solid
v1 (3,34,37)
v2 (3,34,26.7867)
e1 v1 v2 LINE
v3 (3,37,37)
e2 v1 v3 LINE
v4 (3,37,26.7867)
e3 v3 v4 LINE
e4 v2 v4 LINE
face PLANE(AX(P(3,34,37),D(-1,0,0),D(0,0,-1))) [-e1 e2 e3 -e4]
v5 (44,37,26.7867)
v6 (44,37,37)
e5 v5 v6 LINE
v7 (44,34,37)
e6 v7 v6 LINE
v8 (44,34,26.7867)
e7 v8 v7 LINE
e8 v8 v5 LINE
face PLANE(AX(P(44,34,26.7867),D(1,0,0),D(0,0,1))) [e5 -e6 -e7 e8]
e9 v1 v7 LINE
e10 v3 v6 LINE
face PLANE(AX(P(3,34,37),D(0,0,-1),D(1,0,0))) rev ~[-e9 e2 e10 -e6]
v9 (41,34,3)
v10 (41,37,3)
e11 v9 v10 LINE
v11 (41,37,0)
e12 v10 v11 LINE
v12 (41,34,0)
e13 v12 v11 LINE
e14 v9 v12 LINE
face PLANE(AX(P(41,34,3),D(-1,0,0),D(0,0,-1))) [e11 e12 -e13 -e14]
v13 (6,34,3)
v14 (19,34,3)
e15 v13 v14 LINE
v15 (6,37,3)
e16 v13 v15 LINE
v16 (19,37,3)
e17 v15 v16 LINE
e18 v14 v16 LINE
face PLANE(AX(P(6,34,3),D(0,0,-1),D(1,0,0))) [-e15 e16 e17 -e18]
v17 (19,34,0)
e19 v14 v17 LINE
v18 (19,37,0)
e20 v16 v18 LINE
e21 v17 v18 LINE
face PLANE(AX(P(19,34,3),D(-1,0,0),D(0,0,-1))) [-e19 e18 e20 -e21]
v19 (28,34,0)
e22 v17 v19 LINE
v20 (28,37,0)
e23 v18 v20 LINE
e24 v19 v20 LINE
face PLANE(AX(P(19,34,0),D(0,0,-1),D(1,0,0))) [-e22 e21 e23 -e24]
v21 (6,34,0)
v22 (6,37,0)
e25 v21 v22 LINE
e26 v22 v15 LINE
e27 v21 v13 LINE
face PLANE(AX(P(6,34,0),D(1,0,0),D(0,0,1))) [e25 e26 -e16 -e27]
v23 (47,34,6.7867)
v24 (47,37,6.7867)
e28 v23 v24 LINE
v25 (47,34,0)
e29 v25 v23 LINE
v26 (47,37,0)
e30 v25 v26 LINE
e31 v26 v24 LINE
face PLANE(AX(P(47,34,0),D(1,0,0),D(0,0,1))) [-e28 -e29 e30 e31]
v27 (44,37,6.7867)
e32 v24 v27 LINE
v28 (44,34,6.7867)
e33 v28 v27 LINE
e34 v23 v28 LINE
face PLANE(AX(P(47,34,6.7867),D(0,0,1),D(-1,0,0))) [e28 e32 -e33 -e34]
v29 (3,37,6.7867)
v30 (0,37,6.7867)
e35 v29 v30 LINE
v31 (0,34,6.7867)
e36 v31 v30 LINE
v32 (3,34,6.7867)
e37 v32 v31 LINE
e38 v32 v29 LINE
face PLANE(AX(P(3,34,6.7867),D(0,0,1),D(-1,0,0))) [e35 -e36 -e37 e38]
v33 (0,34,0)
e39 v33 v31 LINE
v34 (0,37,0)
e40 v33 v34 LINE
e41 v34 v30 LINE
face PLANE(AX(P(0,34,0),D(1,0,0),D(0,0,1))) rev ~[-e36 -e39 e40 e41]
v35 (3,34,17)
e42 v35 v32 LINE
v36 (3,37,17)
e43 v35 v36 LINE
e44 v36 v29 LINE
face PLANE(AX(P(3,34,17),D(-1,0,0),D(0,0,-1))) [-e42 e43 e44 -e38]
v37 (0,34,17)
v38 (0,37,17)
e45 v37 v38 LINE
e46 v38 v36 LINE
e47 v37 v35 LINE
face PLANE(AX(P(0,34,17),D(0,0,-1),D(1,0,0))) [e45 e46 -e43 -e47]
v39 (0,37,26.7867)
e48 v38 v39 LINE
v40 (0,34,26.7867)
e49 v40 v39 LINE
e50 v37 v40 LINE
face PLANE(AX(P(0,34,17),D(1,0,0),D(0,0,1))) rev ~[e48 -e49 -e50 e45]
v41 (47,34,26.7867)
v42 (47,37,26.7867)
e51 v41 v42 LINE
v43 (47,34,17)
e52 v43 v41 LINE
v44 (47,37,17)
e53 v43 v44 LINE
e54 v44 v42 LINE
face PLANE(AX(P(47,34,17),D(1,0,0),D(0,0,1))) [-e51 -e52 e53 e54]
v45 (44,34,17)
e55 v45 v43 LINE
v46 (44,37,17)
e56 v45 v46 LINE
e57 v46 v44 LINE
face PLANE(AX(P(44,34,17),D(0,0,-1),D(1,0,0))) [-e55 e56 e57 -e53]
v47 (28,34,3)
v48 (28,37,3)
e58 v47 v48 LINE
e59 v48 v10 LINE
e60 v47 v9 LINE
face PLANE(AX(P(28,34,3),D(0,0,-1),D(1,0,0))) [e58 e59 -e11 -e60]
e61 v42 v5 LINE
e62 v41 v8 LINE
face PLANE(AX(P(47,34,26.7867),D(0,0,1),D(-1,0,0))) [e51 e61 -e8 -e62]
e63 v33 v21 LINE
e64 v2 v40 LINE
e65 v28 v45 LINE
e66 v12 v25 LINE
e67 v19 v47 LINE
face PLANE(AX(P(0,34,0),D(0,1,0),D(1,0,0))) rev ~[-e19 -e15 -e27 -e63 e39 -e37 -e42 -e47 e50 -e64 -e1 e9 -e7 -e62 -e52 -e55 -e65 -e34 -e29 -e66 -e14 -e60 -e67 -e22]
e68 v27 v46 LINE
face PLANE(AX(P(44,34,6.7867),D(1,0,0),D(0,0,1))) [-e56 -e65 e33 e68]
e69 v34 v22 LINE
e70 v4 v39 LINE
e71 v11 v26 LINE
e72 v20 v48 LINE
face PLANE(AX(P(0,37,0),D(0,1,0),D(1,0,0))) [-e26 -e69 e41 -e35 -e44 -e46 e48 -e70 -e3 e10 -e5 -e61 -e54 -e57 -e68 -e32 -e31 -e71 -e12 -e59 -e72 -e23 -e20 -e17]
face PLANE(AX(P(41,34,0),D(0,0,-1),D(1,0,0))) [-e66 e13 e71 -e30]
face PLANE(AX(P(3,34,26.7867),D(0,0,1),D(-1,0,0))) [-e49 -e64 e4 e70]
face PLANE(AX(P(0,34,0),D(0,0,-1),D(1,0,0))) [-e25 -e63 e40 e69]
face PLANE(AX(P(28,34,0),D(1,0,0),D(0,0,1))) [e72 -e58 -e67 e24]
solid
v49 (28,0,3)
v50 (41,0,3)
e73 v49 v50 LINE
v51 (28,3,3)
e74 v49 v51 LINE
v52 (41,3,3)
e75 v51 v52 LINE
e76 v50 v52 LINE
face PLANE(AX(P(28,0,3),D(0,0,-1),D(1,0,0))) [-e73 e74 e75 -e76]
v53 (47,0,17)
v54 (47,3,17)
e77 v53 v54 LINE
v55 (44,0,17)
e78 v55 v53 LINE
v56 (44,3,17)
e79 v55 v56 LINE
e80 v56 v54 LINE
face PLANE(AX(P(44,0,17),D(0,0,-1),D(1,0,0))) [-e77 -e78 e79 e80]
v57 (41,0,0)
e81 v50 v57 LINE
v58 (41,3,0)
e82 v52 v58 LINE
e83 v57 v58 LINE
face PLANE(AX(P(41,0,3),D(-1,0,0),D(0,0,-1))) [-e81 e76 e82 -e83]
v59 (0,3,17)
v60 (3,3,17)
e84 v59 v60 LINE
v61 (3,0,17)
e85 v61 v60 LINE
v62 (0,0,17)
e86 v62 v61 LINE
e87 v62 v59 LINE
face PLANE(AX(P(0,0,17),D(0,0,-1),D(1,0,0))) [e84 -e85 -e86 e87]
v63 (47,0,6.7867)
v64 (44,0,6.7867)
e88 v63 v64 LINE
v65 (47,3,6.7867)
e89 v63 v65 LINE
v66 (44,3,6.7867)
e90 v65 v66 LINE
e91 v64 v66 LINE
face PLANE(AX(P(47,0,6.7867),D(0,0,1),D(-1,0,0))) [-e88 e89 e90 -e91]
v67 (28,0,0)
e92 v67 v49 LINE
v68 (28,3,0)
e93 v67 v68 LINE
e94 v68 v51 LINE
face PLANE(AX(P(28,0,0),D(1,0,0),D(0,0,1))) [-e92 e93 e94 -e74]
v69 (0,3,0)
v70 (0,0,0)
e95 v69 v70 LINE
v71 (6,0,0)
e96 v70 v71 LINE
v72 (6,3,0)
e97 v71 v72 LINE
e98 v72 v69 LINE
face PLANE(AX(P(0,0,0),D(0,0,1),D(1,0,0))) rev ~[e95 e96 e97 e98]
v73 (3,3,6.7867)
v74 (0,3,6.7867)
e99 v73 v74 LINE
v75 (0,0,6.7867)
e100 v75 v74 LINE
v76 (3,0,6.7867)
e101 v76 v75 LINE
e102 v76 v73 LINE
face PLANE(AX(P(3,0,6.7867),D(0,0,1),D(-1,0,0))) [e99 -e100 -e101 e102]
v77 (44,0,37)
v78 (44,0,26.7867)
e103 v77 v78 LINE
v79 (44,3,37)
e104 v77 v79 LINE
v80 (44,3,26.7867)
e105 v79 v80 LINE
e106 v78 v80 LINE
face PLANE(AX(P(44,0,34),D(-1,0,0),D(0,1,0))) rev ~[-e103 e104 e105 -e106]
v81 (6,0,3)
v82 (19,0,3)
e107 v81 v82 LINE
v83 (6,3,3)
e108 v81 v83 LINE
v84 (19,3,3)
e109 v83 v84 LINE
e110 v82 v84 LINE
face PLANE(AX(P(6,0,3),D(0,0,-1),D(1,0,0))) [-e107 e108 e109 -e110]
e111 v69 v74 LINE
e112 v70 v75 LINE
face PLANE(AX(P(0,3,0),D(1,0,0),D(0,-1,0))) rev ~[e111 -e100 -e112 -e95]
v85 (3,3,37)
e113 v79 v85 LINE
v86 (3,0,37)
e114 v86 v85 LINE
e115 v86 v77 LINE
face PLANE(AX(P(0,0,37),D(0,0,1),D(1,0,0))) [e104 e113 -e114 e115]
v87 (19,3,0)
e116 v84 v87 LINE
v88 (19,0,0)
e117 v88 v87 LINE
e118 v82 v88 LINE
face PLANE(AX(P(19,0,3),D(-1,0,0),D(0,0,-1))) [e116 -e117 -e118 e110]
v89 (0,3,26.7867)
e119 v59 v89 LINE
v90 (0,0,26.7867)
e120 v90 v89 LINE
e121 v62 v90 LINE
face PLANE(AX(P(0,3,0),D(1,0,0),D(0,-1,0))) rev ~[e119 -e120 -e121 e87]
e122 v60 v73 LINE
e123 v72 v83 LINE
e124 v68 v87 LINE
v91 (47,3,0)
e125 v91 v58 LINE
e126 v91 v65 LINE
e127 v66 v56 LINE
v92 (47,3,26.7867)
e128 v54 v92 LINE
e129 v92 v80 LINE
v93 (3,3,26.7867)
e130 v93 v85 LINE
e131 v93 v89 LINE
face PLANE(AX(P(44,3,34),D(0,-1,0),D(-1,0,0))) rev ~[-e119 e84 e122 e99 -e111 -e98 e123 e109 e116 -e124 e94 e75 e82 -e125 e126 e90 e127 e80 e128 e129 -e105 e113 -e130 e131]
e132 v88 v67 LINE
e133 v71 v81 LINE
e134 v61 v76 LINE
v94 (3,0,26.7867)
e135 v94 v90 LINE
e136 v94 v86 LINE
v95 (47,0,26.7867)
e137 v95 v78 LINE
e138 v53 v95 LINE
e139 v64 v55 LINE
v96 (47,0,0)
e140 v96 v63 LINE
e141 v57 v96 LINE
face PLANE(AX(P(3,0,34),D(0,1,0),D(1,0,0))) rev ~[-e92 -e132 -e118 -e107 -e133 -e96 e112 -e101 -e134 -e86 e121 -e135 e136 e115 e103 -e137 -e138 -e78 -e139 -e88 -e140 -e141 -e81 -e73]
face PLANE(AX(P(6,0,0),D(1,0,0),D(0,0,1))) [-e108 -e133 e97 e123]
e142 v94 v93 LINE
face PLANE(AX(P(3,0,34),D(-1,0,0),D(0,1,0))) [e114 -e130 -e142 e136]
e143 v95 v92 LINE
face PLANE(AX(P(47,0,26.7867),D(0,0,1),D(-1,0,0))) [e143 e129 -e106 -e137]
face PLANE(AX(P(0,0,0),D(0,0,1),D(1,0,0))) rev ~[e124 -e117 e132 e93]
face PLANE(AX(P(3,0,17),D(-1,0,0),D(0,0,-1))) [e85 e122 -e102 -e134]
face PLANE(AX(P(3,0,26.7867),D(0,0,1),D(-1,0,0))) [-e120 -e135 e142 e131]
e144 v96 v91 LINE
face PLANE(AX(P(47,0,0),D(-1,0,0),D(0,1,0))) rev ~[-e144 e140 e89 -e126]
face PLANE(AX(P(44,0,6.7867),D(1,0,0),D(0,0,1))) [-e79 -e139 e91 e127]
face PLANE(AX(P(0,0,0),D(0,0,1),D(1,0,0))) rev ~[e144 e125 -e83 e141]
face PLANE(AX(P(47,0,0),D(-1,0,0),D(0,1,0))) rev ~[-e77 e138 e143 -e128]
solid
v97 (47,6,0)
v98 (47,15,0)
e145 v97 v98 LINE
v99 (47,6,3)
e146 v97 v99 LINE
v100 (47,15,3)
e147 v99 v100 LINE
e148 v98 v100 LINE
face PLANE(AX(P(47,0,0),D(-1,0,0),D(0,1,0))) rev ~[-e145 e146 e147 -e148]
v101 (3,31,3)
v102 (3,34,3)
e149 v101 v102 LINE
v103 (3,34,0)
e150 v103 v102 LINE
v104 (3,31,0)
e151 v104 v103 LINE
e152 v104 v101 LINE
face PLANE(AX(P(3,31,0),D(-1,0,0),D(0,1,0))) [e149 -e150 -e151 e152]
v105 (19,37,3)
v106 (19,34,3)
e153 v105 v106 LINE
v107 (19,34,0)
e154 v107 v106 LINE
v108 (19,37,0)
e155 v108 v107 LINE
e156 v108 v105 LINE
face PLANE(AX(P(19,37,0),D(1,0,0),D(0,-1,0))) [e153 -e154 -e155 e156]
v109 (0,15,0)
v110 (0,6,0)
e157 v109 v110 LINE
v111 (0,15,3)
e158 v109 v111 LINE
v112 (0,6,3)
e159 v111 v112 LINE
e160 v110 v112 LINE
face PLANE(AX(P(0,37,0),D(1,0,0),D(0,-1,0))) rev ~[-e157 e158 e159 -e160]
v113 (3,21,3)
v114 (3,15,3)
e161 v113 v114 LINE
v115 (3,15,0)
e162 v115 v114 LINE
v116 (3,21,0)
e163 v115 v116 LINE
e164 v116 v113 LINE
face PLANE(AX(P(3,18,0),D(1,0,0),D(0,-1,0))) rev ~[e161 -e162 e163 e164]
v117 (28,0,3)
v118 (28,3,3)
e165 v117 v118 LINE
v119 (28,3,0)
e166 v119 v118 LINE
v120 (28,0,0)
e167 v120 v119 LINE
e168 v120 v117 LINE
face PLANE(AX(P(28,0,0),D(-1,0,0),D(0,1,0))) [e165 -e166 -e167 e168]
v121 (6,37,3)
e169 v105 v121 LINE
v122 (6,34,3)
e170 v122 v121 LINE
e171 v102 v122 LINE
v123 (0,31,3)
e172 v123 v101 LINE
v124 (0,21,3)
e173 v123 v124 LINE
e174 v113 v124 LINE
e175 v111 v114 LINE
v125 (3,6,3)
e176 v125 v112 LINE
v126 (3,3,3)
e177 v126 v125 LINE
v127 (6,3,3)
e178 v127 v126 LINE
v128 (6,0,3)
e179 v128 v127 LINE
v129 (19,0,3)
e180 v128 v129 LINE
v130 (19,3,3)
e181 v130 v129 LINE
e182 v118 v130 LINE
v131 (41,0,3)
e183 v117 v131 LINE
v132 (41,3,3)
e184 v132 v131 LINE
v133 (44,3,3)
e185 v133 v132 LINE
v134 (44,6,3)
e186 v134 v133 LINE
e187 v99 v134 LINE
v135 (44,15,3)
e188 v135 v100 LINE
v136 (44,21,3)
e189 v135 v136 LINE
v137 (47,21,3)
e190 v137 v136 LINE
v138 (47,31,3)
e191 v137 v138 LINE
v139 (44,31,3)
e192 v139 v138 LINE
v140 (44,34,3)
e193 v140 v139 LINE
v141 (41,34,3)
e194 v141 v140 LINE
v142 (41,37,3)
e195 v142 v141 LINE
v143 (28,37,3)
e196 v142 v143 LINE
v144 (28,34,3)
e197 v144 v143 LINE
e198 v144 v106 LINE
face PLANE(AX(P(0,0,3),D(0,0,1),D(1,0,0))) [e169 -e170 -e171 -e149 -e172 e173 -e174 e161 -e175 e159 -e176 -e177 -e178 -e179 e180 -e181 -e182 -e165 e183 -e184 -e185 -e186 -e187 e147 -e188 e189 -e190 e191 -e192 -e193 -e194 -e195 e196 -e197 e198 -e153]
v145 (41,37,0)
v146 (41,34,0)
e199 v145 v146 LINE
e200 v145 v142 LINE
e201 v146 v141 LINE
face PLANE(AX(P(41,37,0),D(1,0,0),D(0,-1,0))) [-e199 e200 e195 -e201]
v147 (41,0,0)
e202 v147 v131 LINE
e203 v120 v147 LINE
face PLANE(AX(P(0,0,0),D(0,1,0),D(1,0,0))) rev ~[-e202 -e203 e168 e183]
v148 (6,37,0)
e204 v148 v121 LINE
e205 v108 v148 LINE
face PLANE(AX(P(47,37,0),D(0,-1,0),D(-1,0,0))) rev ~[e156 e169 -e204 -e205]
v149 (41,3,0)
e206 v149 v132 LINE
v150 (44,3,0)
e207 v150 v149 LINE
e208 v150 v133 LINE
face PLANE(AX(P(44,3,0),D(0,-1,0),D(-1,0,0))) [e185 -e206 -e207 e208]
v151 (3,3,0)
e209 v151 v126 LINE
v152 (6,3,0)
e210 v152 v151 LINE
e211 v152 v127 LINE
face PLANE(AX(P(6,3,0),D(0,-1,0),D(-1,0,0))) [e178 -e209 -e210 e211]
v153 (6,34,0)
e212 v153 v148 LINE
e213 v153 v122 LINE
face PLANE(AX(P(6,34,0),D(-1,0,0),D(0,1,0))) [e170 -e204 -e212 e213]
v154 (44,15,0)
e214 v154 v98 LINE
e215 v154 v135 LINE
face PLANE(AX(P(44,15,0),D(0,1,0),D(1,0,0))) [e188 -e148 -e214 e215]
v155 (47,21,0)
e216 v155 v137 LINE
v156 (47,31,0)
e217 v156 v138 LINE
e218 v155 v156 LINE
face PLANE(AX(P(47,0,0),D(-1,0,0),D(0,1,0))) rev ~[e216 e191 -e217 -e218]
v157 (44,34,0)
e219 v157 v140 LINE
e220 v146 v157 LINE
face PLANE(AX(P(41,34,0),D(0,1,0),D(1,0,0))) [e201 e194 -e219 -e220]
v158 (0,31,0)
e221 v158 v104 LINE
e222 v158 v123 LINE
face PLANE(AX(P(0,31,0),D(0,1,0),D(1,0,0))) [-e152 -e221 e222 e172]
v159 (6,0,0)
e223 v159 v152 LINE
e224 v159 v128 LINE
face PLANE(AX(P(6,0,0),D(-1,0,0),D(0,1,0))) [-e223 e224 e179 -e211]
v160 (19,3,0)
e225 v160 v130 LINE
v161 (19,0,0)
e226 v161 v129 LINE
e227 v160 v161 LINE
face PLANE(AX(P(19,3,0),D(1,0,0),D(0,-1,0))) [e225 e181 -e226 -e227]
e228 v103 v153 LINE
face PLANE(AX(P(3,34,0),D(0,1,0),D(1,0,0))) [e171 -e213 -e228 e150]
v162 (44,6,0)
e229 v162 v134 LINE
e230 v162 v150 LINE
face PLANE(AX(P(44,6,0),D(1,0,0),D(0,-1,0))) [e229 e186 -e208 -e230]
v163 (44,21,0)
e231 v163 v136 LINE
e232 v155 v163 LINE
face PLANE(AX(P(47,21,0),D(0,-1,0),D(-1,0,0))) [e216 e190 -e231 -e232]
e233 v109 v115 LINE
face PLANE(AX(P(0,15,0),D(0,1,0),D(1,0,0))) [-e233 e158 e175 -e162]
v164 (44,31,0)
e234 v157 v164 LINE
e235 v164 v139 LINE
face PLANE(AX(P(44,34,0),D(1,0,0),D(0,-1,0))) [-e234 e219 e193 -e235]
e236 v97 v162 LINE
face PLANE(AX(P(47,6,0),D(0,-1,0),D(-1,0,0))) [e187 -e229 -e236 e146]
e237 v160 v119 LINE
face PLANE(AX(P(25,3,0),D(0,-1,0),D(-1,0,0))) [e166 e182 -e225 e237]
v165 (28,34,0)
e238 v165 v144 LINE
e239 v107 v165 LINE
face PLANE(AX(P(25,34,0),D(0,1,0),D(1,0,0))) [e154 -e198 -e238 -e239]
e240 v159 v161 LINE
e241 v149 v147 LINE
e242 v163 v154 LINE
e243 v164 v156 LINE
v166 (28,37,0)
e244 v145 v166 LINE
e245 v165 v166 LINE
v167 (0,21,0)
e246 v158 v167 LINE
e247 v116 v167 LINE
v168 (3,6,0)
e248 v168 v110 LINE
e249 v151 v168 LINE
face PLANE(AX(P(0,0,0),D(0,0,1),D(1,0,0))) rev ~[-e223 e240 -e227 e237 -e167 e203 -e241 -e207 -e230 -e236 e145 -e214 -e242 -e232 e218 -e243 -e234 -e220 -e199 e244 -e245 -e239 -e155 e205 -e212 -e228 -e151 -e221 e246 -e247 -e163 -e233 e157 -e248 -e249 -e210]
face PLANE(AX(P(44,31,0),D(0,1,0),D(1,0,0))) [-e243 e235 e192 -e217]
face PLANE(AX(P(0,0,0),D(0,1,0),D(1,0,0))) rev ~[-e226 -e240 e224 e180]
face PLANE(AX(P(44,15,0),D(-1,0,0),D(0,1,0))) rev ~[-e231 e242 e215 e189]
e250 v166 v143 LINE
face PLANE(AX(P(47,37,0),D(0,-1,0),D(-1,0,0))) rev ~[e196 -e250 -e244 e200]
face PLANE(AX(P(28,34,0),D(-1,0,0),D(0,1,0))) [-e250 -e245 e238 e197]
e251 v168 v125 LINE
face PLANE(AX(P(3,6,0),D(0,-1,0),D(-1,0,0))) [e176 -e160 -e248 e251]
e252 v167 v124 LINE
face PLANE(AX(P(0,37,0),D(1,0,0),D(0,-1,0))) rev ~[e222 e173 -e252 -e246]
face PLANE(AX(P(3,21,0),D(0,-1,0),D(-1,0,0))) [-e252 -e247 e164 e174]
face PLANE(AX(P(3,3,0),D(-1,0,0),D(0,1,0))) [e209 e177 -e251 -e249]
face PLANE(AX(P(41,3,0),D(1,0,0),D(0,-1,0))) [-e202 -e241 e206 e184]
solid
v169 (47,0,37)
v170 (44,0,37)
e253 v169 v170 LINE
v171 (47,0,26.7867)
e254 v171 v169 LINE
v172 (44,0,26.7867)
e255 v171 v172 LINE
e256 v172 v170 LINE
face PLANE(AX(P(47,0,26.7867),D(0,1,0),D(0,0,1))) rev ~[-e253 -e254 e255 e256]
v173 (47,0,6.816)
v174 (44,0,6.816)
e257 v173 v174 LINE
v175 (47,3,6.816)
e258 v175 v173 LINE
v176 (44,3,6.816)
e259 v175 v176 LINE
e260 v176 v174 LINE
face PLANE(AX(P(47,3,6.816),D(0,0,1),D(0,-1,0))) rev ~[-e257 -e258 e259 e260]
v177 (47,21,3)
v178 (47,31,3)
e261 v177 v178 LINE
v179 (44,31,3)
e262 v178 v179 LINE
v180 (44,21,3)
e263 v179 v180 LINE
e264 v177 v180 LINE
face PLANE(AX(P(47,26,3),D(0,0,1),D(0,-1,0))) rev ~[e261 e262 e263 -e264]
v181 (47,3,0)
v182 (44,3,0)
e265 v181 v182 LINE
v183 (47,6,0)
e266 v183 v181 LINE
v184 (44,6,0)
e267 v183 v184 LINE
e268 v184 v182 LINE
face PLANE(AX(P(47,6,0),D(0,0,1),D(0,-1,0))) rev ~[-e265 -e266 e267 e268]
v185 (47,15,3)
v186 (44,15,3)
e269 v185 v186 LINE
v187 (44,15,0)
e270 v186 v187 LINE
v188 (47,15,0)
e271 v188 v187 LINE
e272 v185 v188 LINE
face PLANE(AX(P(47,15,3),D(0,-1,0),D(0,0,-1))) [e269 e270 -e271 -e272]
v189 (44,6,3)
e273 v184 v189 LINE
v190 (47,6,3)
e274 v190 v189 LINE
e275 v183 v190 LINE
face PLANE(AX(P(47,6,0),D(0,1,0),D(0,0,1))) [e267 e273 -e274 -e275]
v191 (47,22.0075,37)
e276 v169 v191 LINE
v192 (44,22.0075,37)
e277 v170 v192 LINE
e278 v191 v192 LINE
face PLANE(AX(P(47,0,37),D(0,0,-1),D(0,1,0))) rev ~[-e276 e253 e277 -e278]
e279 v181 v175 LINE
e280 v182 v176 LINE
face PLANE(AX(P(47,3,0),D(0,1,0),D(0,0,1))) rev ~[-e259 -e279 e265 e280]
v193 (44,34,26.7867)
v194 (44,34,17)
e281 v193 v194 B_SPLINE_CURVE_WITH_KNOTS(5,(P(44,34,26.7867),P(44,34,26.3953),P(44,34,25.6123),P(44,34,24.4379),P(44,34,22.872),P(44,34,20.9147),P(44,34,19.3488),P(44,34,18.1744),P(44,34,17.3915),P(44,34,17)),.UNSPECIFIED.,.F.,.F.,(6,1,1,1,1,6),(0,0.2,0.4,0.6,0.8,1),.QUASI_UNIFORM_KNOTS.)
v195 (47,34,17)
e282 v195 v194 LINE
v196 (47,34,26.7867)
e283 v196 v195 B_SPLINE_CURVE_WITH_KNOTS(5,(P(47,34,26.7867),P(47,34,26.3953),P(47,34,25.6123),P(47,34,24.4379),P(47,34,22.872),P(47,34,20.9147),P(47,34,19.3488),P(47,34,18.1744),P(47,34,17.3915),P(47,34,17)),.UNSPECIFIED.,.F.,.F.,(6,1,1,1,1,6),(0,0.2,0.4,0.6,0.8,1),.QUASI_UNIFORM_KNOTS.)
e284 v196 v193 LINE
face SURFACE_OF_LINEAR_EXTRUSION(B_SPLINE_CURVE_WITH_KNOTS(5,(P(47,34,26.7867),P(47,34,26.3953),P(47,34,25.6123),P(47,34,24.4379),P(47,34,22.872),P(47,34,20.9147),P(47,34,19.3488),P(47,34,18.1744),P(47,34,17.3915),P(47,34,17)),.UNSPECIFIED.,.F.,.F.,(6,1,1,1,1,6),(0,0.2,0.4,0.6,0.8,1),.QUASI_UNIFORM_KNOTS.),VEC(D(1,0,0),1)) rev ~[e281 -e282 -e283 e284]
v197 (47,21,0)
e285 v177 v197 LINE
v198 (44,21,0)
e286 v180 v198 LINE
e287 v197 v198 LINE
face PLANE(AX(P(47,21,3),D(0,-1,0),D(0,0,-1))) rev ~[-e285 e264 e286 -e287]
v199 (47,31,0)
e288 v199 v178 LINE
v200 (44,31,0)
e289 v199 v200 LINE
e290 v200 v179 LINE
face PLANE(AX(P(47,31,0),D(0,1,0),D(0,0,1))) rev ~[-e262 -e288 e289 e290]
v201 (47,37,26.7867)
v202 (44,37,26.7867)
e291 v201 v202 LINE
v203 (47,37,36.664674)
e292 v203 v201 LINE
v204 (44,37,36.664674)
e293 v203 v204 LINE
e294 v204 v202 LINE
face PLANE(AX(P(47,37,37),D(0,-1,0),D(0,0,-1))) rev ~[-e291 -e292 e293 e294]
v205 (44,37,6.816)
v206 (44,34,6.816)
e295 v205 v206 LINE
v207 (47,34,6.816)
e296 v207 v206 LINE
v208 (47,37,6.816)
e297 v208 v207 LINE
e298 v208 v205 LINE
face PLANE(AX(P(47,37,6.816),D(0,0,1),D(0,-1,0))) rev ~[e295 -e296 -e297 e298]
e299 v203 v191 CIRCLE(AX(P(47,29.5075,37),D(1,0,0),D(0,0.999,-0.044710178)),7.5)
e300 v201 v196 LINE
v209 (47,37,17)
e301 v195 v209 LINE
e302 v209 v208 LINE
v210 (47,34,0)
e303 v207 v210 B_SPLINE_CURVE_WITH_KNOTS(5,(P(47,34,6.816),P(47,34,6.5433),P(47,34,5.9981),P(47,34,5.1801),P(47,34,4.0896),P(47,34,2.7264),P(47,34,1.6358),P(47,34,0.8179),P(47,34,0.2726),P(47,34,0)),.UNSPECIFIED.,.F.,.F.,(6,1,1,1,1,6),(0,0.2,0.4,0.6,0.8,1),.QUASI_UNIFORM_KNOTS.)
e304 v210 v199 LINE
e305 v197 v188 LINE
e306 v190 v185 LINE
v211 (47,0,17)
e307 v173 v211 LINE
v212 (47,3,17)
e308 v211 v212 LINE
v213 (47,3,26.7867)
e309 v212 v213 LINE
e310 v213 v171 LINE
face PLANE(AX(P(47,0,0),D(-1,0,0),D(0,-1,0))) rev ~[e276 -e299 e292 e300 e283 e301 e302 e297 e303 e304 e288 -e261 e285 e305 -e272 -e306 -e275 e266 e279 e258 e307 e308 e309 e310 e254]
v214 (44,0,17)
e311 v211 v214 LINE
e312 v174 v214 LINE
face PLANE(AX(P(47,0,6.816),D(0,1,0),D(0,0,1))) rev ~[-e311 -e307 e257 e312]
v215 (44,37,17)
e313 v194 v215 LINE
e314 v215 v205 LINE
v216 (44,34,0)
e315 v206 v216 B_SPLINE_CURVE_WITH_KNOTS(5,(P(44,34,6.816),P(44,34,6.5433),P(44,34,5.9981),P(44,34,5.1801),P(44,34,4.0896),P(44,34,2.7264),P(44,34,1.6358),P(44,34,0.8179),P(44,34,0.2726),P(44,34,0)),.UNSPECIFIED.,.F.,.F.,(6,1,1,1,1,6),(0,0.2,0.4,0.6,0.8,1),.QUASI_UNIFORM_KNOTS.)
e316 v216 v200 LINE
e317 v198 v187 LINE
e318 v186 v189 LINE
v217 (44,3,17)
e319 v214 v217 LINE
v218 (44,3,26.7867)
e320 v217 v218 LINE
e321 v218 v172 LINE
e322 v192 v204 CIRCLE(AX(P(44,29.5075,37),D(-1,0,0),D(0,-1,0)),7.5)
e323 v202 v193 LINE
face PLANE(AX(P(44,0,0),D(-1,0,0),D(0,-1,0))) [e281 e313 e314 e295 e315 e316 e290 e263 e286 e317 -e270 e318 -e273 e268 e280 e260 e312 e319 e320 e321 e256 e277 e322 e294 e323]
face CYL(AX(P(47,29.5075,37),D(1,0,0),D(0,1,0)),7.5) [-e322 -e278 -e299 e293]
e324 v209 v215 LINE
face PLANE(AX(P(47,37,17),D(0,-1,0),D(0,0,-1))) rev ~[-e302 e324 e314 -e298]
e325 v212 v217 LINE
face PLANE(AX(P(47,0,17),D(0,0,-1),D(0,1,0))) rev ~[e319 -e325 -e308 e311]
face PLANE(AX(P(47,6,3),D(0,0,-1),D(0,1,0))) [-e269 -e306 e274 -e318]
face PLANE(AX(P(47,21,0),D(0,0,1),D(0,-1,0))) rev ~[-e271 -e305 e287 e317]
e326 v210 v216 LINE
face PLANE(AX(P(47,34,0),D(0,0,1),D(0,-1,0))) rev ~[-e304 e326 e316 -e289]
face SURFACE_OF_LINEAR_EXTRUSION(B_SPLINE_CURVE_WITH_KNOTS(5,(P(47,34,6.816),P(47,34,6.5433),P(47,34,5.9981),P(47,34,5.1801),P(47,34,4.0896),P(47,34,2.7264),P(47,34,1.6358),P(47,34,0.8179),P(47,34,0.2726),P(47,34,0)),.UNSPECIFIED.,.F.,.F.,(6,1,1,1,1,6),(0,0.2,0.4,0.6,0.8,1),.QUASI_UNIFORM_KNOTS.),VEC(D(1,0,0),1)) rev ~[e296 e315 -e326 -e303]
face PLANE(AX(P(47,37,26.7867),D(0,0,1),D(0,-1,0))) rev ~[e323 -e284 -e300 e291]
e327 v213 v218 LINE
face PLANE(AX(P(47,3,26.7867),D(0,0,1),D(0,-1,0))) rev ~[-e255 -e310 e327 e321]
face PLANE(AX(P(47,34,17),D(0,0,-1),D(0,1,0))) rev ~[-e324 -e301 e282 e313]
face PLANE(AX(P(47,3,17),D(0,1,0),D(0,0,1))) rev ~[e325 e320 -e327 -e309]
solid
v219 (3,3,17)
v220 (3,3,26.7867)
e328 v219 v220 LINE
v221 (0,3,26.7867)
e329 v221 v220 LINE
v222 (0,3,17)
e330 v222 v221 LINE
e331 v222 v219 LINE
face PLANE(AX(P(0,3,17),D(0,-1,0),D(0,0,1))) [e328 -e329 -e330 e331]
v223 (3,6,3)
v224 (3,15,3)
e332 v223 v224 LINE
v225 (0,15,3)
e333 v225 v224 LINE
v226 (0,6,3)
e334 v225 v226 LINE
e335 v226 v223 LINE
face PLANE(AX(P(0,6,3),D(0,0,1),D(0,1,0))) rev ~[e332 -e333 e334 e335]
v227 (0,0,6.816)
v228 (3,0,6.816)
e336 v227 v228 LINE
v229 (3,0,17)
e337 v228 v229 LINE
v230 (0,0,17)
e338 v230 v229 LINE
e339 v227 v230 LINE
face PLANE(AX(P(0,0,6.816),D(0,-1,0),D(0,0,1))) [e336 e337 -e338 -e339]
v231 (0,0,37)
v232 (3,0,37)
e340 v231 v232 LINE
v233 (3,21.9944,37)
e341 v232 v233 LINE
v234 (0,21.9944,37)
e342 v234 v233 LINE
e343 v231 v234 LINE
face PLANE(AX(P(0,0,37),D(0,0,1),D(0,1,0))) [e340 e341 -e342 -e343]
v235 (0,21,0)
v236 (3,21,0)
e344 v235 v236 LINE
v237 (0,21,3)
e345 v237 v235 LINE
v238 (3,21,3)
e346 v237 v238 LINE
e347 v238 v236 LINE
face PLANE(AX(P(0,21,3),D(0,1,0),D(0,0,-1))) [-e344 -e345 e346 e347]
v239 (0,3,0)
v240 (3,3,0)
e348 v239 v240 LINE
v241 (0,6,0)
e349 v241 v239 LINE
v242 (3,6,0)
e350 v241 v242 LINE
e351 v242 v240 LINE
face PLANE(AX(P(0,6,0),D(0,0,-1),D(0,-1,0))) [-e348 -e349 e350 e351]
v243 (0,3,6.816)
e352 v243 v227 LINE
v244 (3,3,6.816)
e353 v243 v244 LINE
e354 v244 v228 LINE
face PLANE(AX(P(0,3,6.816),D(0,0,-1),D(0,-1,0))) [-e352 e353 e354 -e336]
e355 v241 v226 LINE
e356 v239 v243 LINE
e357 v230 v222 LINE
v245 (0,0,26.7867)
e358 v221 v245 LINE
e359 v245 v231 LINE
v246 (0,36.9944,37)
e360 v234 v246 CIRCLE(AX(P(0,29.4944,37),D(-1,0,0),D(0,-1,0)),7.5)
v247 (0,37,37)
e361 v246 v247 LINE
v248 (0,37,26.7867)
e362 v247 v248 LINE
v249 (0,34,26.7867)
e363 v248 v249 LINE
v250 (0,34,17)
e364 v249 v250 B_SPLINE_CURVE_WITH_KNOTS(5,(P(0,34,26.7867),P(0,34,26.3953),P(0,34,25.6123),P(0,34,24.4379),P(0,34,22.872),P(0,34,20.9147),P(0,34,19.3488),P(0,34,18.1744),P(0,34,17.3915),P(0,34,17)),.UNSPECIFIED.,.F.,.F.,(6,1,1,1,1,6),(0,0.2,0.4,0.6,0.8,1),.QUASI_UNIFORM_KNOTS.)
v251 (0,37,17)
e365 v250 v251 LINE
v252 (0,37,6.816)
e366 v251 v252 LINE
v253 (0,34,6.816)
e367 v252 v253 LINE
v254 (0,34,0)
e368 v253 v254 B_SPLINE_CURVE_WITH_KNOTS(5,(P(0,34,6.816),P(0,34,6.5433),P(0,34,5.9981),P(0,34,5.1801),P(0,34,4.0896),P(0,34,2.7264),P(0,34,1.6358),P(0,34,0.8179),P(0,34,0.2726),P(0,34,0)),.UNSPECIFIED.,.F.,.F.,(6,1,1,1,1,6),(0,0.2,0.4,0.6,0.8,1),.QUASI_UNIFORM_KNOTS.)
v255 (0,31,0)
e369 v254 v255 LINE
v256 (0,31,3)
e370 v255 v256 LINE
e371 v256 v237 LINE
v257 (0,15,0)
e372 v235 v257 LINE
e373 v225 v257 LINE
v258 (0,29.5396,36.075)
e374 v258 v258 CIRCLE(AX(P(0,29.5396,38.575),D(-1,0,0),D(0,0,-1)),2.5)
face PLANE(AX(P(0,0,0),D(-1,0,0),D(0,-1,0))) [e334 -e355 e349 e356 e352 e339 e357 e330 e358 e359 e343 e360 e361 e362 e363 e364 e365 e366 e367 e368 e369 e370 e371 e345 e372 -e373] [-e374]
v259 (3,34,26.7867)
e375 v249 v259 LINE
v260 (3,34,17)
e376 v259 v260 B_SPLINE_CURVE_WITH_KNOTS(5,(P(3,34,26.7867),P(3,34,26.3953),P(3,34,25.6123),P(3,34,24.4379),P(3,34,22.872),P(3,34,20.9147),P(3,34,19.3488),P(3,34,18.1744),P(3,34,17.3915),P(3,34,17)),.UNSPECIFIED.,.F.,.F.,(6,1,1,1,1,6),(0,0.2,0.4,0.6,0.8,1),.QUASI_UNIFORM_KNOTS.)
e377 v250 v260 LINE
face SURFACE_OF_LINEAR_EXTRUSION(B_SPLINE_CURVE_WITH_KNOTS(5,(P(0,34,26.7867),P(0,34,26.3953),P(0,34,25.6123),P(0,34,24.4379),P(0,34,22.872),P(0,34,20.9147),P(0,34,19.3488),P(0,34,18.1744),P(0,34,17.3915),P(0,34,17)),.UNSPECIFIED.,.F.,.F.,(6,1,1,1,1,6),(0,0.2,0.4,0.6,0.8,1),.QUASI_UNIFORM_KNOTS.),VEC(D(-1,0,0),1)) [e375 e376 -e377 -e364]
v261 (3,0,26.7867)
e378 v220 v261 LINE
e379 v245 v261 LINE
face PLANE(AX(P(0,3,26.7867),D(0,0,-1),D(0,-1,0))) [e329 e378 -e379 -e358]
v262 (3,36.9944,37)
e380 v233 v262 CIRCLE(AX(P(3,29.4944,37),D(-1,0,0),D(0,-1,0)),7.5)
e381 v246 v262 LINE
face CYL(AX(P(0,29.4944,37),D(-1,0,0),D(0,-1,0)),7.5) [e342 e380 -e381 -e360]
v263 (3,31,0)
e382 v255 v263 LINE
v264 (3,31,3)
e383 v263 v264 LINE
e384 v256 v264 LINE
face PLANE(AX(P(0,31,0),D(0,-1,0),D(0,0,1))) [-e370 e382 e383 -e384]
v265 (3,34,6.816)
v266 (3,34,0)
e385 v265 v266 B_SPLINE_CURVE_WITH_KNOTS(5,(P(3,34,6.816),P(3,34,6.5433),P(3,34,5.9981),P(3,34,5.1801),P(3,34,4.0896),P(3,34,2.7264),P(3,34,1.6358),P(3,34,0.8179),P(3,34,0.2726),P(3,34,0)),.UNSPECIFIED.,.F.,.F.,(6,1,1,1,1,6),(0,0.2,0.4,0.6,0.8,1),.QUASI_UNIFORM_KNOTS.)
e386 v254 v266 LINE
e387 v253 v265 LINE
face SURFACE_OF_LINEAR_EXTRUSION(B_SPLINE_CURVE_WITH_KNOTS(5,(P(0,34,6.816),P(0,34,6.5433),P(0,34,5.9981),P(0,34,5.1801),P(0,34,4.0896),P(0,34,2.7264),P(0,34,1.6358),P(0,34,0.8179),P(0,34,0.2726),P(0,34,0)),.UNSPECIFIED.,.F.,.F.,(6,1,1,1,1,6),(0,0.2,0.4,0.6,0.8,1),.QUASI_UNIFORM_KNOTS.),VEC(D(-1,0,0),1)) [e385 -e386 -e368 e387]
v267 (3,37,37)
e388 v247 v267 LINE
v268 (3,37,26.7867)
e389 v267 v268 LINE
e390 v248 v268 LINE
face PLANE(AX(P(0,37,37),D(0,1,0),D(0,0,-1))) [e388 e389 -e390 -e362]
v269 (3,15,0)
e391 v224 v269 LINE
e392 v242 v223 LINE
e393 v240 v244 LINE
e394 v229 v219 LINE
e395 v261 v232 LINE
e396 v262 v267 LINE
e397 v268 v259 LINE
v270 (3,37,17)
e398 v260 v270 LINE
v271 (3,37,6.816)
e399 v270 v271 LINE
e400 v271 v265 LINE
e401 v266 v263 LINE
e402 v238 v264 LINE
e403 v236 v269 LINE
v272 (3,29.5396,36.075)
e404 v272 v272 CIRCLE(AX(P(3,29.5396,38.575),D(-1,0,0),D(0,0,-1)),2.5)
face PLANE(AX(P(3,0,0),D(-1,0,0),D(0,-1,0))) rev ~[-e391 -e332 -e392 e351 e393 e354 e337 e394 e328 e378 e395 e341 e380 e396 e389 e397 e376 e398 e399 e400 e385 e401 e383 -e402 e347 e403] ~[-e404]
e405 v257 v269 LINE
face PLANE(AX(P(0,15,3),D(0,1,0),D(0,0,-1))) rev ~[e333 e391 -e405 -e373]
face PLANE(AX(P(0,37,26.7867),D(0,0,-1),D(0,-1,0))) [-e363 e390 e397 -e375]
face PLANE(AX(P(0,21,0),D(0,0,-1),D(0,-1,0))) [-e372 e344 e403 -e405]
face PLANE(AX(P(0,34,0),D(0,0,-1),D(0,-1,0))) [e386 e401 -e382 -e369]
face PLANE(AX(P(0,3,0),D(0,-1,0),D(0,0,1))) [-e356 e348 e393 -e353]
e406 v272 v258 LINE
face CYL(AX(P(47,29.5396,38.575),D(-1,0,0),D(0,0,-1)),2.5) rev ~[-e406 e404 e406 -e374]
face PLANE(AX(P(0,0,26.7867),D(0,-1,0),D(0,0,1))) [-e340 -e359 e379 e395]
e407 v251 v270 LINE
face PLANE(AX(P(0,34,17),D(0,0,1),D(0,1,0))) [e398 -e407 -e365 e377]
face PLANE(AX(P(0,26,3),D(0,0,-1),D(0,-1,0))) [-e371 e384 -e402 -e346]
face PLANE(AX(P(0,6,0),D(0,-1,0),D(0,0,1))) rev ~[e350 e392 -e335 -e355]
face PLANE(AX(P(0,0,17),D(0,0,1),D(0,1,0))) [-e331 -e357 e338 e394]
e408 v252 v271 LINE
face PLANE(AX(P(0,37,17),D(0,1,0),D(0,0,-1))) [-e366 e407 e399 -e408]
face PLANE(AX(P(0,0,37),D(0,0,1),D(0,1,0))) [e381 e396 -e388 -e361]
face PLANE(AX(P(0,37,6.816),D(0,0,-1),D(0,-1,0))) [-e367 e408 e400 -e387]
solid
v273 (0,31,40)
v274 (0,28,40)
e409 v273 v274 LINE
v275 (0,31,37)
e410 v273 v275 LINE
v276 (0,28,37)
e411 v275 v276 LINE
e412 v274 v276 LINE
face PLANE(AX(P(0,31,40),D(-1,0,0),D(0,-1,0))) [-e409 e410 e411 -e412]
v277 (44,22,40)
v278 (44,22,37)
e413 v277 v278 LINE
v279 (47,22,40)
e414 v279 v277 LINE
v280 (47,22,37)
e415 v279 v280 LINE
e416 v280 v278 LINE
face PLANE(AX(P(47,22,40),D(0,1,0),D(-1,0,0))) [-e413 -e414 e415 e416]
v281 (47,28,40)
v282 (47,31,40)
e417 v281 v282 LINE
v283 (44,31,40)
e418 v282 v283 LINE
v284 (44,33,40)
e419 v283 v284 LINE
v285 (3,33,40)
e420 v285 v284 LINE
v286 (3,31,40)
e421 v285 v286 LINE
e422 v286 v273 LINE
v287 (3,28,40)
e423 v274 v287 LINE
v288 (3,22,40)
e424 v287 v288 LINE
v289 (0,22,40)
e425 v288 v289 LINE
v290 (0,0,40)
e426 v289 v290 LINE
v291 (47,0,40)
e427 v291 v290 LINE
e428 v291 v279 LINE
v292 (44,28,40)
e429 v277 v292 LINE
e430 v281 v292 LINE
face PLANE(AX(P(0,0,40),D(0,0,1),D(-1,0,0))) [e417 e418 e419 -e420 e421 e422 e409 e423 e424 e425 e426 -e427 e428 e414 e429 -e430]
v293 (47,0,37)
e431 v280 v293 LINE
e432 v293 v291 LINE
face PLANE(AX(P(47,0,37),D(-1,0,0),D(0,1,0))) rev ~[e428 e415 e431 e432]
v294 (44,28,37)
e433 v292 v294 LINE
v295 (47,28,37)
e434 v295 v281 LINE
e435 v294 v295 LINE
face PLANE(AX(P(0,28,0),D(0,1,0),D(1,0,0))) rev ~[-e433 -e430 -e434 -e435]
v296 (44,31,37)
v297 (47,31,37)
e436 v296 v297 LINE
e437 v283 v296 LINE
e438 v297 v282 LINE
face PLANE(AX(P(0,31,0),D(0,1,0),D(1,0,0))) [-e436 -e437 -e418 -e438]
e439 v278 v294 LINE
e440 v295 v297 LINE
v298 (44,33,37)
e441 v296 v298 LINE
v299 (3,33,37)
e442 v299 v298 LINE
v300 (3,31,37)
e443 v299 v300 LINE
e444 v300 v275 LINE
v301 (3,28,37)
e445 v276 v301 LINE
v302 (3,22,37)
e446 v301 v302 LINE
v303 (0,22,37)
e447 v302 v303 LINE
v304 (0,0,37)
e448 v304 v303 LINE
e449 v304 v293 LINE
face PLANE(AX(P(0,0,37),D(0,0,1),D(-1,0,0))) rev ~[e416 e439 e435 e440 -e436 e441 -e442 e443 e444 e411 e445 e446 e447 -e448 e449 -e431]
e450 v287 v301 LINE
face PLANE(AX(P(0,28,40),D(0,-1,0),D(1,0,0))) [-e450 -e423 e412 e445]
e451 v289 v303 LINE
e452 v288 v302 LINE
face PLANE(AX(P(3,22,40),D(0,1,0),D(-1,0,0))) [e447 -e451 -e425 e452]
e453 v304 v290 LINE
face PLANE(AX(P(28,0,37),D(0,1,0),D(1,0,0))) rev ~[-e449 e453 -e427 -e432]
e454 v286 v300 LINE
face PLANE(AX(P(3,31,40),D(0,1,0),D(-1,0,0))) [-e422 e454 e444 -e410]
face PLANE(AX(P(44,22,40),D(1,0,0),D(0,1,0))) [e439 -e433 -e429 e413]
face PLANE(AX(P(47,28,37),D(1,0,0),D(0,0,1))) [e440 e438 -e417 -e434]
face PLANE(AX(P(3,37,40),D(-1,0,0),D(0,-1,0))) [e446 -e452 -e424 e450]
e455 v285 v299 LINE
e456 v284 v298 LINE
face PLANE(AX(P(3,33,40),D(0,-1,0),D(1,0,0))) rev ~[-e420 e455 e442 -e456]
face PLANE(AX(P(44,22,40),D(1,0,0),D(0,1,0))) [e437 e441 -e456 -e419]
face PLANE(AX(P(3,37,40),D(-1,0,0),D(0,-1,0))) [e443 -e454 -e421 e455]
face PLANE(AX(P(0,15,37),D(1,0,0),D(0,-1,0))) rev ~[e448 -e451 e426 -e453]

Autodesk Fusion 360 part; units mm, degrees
sketch "Sketch1" plane through (0, 0, 0) normal (0, 0, 1) x (1, 0, 0)
  line L0 (0, 0) -> (47, 0)
  line L1 (47, 0) -> (47, 37)
  line L2 (47, 37) -> (0, 37)
  line L3 (0, 37) -> (0, 0)
  dimension "d1" = 47
  dimension "d2" = 37
sketch "Sketch2" plane through (0, 0, 0) normal (0, 0, 1) x (1, 0, 0)
  line L0 (0, 0) -> (3, 0)
  line L1 (3, 0) -> (3, 3)
  line L2 (3, 3) -> (0, 3)
  line L3 (0, 3) -> (0, 0)
  line L4 (25, 0) -> (25, 3)
  line L5 (22, 0) -> (25, 0)
  line L6 (25, 3) -> (22, 3)
  line L7 (22, 3) -> (22, 0)
  line L8 (47, 0) -> (47, 3)
  line L9 (44, 0) -> (47, 0)
  line L10 (47, 3) -> (44, 3)
  line L11 (44, 3) -> (44, 0)
  line L12 (25, 0) -> (28, 0)
  line L13 (28, 0) -> (28, 3)
  line L14 (25, 3) -> (25, 0)
  line L15 (28, 3) -> (25, 3)
  line L16 (22, 3) -> (19, 3)
  line L17 (22, 3) -> (22, 0)
  line L18 (19, 0) -> (22, 0)
  line L19 (19, 3) -> (19, 0)
  line L20 (6, 3) -> (3, 3)
  line L21 (6, 0) -> (6, 3)
  line L22 (3, 0) -> (6, 0)
  line L23 (3, 3) -> (3, 0)
  line L24 (41, 3) -> (41, 0)
  line L25 (44, 3) -> (41, 3)
  line L26 (41, 0) -> (44, 0)
  line L27 (44, 0) -> (44, 3)
  line L28 (19, 37) -> (19, 34)
  line L29 (28, 34) -> (28, 37)
  line L30 (25, 34) -> (28, 34)
  line L31 (22, 34) -> (25, 34)
  line L32 (28, 37) -> (25, 37)
  line L33 (25, 37) -> (22, 37)
  line L34 (22, 37) -> (19, 37)
  line L35 (6, 37) -> (3, 37)
  line L36 (6, 34) -> (6, 37)
  line L37 (3, 34) -> (6, 34)
  line L38 (0, 34) -> (3, 34)
  line L39 (0, 37) -> (0, 34)
  line L40 (3, 37) -> (0, 37)
  line L41 (41, 37) -> (41, 34)
  line L42 (44, 37) -> (41, 37)
  line L43 (47, 37) -> (44, 37)
  line L44 (41, 34) -> (44, 34)
  line L45 (44, 34) -> (47, 34)
  line L46 (47, 34) -> (47, 37)
  line L47 (19, 34) -> (22, 34)
  line L48 (47, 0) -> (47, 3)
  line L49 (47, 3) -> (44, 3)
  line L50 (44, 3) -> (44, 0)
  line L51 (44, 0) -> (47, 0)
  line L52 (3, 31) -> (3, 34)
  line L53 (3, 34) -> (0, 34)
  line L54 (0, 34) -> (0, 31)
  line L55 (0, 31) -> (3, 31)
  line L56 (47, 31) -> (47, 34)
  line L57 (47, 34) -> (44, 34)
  line L58 (44, 34) -> (44, 31)
  line L59 (44, 31) -> (47, 31)
  line L60 (3, 3) -> (3, 6)
  line L61 (0, 3) -> (3, 3)
  line L62 (0, 6) -> (0, 3)
  line L63 (3, 6) -> (0, 6)
  line L64 (44, 6) -> (44, 3)
  line L65 (44, 3) -> (47, 3)
  line L66 (47, 6) -> (44, 6)
  line L67 (47, 3) -> (47, 6)
  line L68 (44, 15) -> (47, 15)
  line L69 (47, 15) -> (47, 18)
  line L70 (47, 18) -> (47, 21)
  line L71 (47, 21) -> (44, 21)
  line L72 (44, 21) -> (44, 18)
  line L73 (44, 15) -> (44, 18)
  line L74 (3, 18) -> (3, 21)
  line L75 (3, 21) -> (0, 21)
  line L76 (0, 21) -> (0, 18)
  line L77 (0, 18) -> (0, 15)
  line L78 (0, 15) -> (3, 15)
  line L79 (3, 18) -> (3, 15)
  point P0 (0, 6)
  dimension "d9" = 3
  dimension "d10" = 3
  dimension "d13" = 44
  dimension "d14" = 0
  dimension "d17" = 3
  dimension "d18" = 0
  dimension "d21" = -3
  dimension "d22" = 0
  dimension "d25" = 3
  dimension "d26" = 0
  dimension "d29" = -3
  dimension "d30" = 0
  dimension "d33" = 0
  dimension "d34" = 34
  dimension "d37" = 44
  dimension "d38" = 31
  dimension "d41" = 0
  dimension "d42" = -28
  dimension "d45" = 0
  dimension "d46" = 15
extrude "Extrude1" add sketch "Sketch1" along normal blind 3 makes body 1
extrude "Extrude2" cut sketch "Sketch2" along normal blind 3 bodies 1
sketch "Sketch3" plane through (0, 0, 0) normal (0, 0, 1) x (1, 0, 0)
  line L0 (0, 0) -> (47, 0)
  line L1 (47, 0) -> (47, 3)
  line L2 (47, 3) -> (0, 3)
  line L3 (0, 3) -> (0, 0)
  dimension "d51" = 47
  dimension "d52" = 3
extrude "Extrude1'" add sketch "Sketch3" along normal blind 37 separate body makes body 2 in component "Component"
sketch "Sketch4" plane through (0, 0, 0) normal (0, -1, 0) x (1, 0, 0)
  line L0 (0, 0) -> (47, 0)
  line L1 (47, 0) -> (47, 37)
  line L2 (47, 37) -> (0, 37)
  line L3 (0, 37) -> (0, 0)
  line L4 (0, 37) -> (3, 37)
  line L5 (3, 37) -> (3, 26.7867)
  line L6 (3, 26.7867) -> (0, 26.7867)
  line L7 (0, 26.7867) -> (0, 37)
  line L8 (44, 37) -> (47, 37)
  line L9 (47, 37) -> (47, 26.7867)
  line L10 (44, 26.7867) -> (44, 37)
  line L11 (47, 26.7867) -> (44, 26.7867)
  line L12 (0, 17) -> (3, 17)
  line L13 (3, 17) -> (3, 6.7867)
  line L14 (0, 6.7867) -> (0, 17)
  line L15 (3, 6.7867) -> (0, 6.7867)
  line L16 (44, 17) -> (47, 17)
  line L17 (47, 17) -> (47, 6.7867)
  line L18 (44, 6.7867) -> (44, 17)
  line L19 (47, 6.7867) -> (44, 6.7867)
  line L20 (19, 0) -> (6, 0)
  line L21 (6, 0) -> (6, 3)
  line L22 (6, 3) -> (19, 3)
  line L23 (19, 3) -> (19, 0)
  line L24 (41, 3) -> (41, 0)
  line L25 (41, 0) -> (28, 0)
  line L26 (28, 3) -> (41, 3)
  line L27 (28, 0) -> (28, 3)
  dimension "d55" = 3
  dimension "d56" = 10.2133
  dimension "d59" = 44
  dimension "d60" = -20
  dimension "d61" = 13
  dimension "d62" = 3
  dimension "d65" = 22
  dimension "d66" = 0
extrude "Extrude2'" cut sketch "Sketch4" against normal blind 3 contours L0 L20 L21 L22 L23 | L3 L12 L13 L14 L15 | L0 L24 L25 L26 L27 | L2 L3 L4 L5 L6 L7 | L1 L16 L17 L18 L19 | L1 L2 L8 L9 L10 L11 bodies 2 in component "Component"
sketch "Sketch5" plane through (0, 0, 0) normal (-1, 0, 0) x (0, -1, 0)
  line L0 (0, 26.7867) -> (-3, 26.7867)
  line L1 (-3, 26.7867) -> (-3, 17)
  line L2 (-3, 17) -> (0, 17)
  line L3 (0, 17) -> (0, 26.7867)
  line L4 (0, 0) -> (-37, 0)
  line L5 (-37, 0) -> (-37, 37)
  line L6 (-37, 37) -> (0, 37)
  line L7 (0, 37) -> (0, 0)
  line L8 (0, 6.816) -> (-3, 6.816)
  line L9 (-3, 6.816) -> (-3, 0)
  line L10 (-3, 0) -> (0, 0)
  line L11 (0, 0) -> (0, 6.816)
  dimension "d69" = 37
  dimension "d70" = 37
sketch "Sketch6" plane through (0, 0, 0) normal (-1, 0, 0) x (0, -1, 0)
  line L0 (-3, 6.816) -> (0, 6.816)
  line L1 (0, 6.816) -> (0, 17)
  line L2 (0, 17) -> (-3, 17)
  line L3 (-3, 17) -> (-3, 26.7867)
  line L4 (-3, 26.7867) -> (0, 26.7867)
  line L5 (0, 26.7867) -> (0, 37)
  line L6 (0, 37) -> (-37, 37)
  line L7 (-37, 37) -> (-37, 0)
  line L8 (-37, 0) -> (-3, 0)
  line L9 (-3, 0) -> (-3, 6.816)
  line L10 (-37, 26.7867) -> (-34, 26.7867)
  line L11 (-37, 17) -> (-37, 26.7867)
  line L12 (-34, 17) -> (-37, 17)
  line L13 (-37, 6.816) -> (-34, 6.816)
  line L14 (-37, 0) -> (-37, 6.816)
  spline S0 degree 5 poles (-34, 26.7867) (-34, 26.3953) (-34, 25.6123) (-34, 24.4379) (-34, 22.872) (-34, 20.9147) (-34, 19.3488) (-34, 18.1744) (-34, 17.3915) (-34, 17) knots 0 0 0 0 0 0 0.2 0.4 0.6 0.8 1 1 1 1 1 1
  spline S1 degree 5 poles (-34, 6.816) (-34, 6.5433) (-34, 5.9981) (-34, 5.1801) (-34, 4.0896) (-34, 2.7264) (-34, 1.6358) (-34, 0.8179) (-34, 0.2726) (-34, 0) knots 0 0 0 0 0 0 0.2 0.4 0.6 0.8 1 1 1 1 1 1
  spline S2 degree 5 poles (-37, 0) (-36.88, 0) (-36.64, 0) (-36.28, 0) (-35.8, 0) (-35.2, 0) (-34.72, 0) (-34.36, 0) (-34.12, 0) (-34, 0) knots 0 0 0 0 0 0 0.2 0.4 0.6 0.8 1 1 1 1 1 1
  line L15 (-31, 3) -> (-26, 3)
  line L16 (-26, 3) -> (-26, 0)
  line L17 (-26, 0) -> (-31, 0)
  line L18 (-31, 0) -> (-31, 3)
  line L19 (-26, 3) -> (-21, 3)
  line L20 (-26, 0) -> (-26, 3)
  line L21 (-21, 3) -> (-21, 0)
  line L22 (-21, 0) -> (-26, 0)
  line L23 (-15, 0) -> (-12, 0)
  line L24 (-12, 0) -> (-12, 3)
  line L25 (-12, 3) -> (-15, 3)
  line L26 (-15, 3) -> (-15, 0)
  line L27 (-9, 3) -> (-12, 3)
  line L28 (-12, 3) -> (-12, 0)
  line L29 (-12, 0) -> (-9, 0)
  line L30 (-9, 0) -> (-9, 3)
  line L31 (-6, 3) -> (-9, 3)
  line L32 (-9, 3) -> (-9, 0)
  line L33 (-9, 0) -> (-6, 0)
  line L34 (-6, 0) -> (-6, 3)
  dimension "d75" = -34
  dimension "d76" = 0
  dimension "d77" = 5
  dimension "d78" = 3
  dimension "d81" = 5
  dimension "d82" = 0
  dimension "d83" = 3
  dimension "d84" = 3
  dimension "d87" = 6
  dimension "d88" = 0
extrude "Extrude1''" add sketch "Sketch6" against normal blind 3 separate body contours L0 L1 L2 L3 L4 L5 L6 L7 L8 L9 L10 L12 L13 S0 S1 L15 L18 L19 L21 L25 L26 L27 L31 L34 makes body 3 in component "Component'"
extrude "Extrude1'''" add 1 faces at (22, 0, 18.8578) along direction (0, -1, 0) blind -37 and the other way blind 34 separate body on bodies 2 makes body 4 in component "Component''"
extrude "Extrude1''''" add 1 faces at (3, 19.3333, 12.3333) along direction (1, 0, 0) blind 41 and the other way blind -44 separate body on bodies 3 makes body 5 in component "Component'''"
extrude "Extrude3" cut 1 faces at (16.6667, 2, 37) along direction (0, 0, -1) blind 3 on bodies 2 bodies 2 in component "Component"
sketch "Sketch7" plane through (47, 0, 0) normal (1, 0, 0) x (0, 1, 0)
  line L0 (3, 6.816) -> (3, 0)
  line L1 (3, 0) -> (6, 0)
  line L2 (6, 0) -> (6, 3)
  line L3 (6, 3) -> (15, 3)
  line L4 (15, 3) -> (15, 0)
  line L5 (15, 0) -> (21, 0)
  line L6 (21, 0) -> (21, 3)
  line L7 (21, 3) -> (31, 3)
  line L8 (31, 3) -> (31, 0)
  line L9 (31, 0) -> (34, 0)
  line L10 (34, 0) -> (34, 6.816)
  line L11 (34, 6.816) -> (37, 6.816)
  line L12 (37, 6.816) -> (37, 17)
  line L13 (37, 17) -> (34, 17)
  line L14 (34, 17) -> (34, 26.7867)
  line L15 (34, 26.7867) -> (37, 26.7867)
  line L16 (37, 26.7867) -> (37, 37)
  line L17 (37, 37) -> (0, 37)
  line L18 (0, 37) -> (0, 26.7867)
  line L19 (0, 26.7867) -> (3, 26.7867)
  line L20 (3, 26.7867) -> (3, 17)
  line L21 (3, 17) -> (0, 17)
  line L22 (0, 17) -> (0, 6.816)
  line L23 (0, 6.816) -> (3, 6.816)
  circle A0 centre (29.5075, 37) radius 7.5
  dimension "d101" = 15
extrude "Extrude2''" add sketch "Sketch7" against normal blind 3 contours L16 L17 A0 picked at (27.0329, 37.3726) bodies 5 in component "Component'''"
sketch "Sketch8" plane through (0, 0, 0) normal (-1, 0, 0) x (0, -1, 0)
  line L0 (-3, 0) -> (-3, 6.816)
  line L1 (-3, 6.816) -> (0, 6.816)
  line L2 (0, 6.816) -> (0, 17)
  line L3 (0, 17) -> (-3, 17)
  line L4 (-3, 17) -> (-3, 26.7867)
  line L5 (-3, 26.7867) -> (0, 26.7867)
  line L6 (0, 26.7867) -> (0, 37)
  line L7 (0, 37) -> (-37, 37)
  line L8 (-37, 37) -> (-37, 26.7867)
  line L9 (-37, 26.7867) -> (-34, 26.7867)
  line L10 (-34, 26.7867) -> (-34, 17)
  line L11 (-34, 17) -> (-37, 17)
  line L12 (-37, 17) -> (-37, 6.816)
  line L13 (-37, 6.816) -> (-34, 6.816)
  line L14 (-34, 6.816) -> (-34, 0)
  line L15 (-34, 0) -> (-31, 0)
  line L16 (-31, 0) -> (-31, 3)
  line L17 (-31, 3) -> (-21, 3)
  line L18 (-21, 3) -> (-21, 0)
  line L19 (-21, 0) -> (-15, 0)
  line L20 (-15, 0) -> (-15, 3)
  line L21 (-15, 3) -> (-6, 3)
  line L22 (-6, 3) -> (-6, 0)
  line L23 (-6, 0) -> (-3, 0)
  circle A0 centre (-29.4944, 37) radius 7.5
  dimension "d104" = 15
extrude "Extrude2'''" add sketch "Sketch8" against normal blind 3 contours L7 A0 picked at (-30.0507, 39.4373) bodies 3 in component "Component'"
extrude "Extrude4" add 1 faces at (16.6667, 2, 34) along direction (0, 0, 1) blind 3 on bodies 2 bodies 2 in component "Component"
sketch "Sketch9" plane through (0, 0, 3) normal (0, 0, 1) x (-1, 0, 0)
  line L0 (-41, 0) -> (-41, -3)
  line L1 (-41, -3) -> (-44, -3)
  line L2 (-44, -3) -> (-44, -6)
  line L3 (-44, -6) -> (-47, -6)
  line L4 (-47, -6) -> (-47, -15)
  line L5 (-47, -15) -> (-44, -15)
  line L6 (-44, -15) -> (-44, -21)
  line L7 (-44, -21) -> (-47, -21)
  line L8 (-47, -21) -> (-47, -31)
  line L9 (-47, -31) -> (-44, -31)
  line L10 (-44, -31) -> (-44, -34)
  line L11 (-44, -34) -> (-41, -34)
  line L12 (-41, -34) -> (-41, -37)
  line L13 (-41, -37) -> (-28, -37)
  line L14 (-28, -37) -> (-28, -34)
  line L15 (-28, -34) -> (-19, -34)
  line L16 (-19, -34) -> (-19, -37)
  line L17 (-19, -37) -> (-6, -37)
  line L18 (-6, -37) -> (-6, -34)
  line L19 (-6, -34) -> (-3, -34)
  line L20 (-3, -34) -> (-3, -31)
  line L21 (-3, -31) -> (0, -31)
  line L22 (0, -31) -> (0, -21)
  line L23 (0, -21) -> (-3, -21)
  line L24 (-3, -21) -> (-3, -15)
  line L25 (-3, -15) -> (0, -15)
  line L26 (0, -15) -> (0, -6)
  line L27 (0, -6) -> (-3, -6)
  line L28 (-3, -6) -> (-3, -3)
  line L29 (-3, -3) -> (-6, -3)
  line L30 (-6, -3) -> (-6, 0)
  line L31 (-6, 0) -> (-19, 0)
  line L32 (-19, 0) -> (-19, -3)
  line L33 (-19, -3) -> (-28, -3)
  line L34 (-28, -3) -> (-28, 0)
  line L35 (-28, 0) -> (-41, 0)
  line L36 (0, 0) -> (-47, 0)
  line L37 (-47, 0) -> (-47, -37)
  line L38 (-47, -37) -> (0, -37)
  line L39 (0, -37) -> (0, 0)
  dimension "d109" = 47
  dimension "d110" = 37
extrude "Extrude1'''''" add sketch "Sketch9" along normal blind 37 and the other way blind -34 separate body makes body 6 in component "Component''''"
sketch "Sketch10" plane through (0, 0, 40) normal (0, 0, 1) x (-1, 0, 0)
  line L0 (0, -37) -> (0, 0)
  line L1 (0, 0) -> (-47, 0)
  line L2 (-47, 0) -> (-47, -37)
  line L3 (-47, -37) -> (0, -37)
  line L4 (0, -37) -> (-3, -37)
  line L5 (-3, -37) -> (-3, -22)
  line L6 (-3, -22) -> (0, -22)
  line L7 (0, -22) -> (0, -37)
  line L8 (-44, -37) -> (-47, -37)
  line L9 (-47, -37) -> (-47, -22)
  line L10 (-44, -22) -> (-44, -37)
  line L11 (-47, -22) -> (-44, -22)
  dimension "d117" = -44
  dimension "d118" = 0
extrude "Extrude2''''" cut sketch "Sketch10" against normal blind 3 contours L0 L3 L4 L5 L6 L7 | L2 L3 L8 L9 L10 L11 bodies 6 in component "Component''''"
sketch "Sketch11" plane through (0, 0, 40) normal (0, 0, 1) x (-1, 0, 0)
  line L0 (-3, -22) -> (0, -22)
  line L1 (0, -22) -> (0, 0)
  line L2 (0, 0) -> (-47, 0)
  line L3 (-47, 0) -> (-47, -22)
  line L4 (-47, -22) -> (-44, -22)
  line L5 (-44, -22) -> (-44, -37)
  line L6 (-44, -37) -> (-3, -37)
  line L7 (-3, -37) -> (-3, -22)
  line L8 (-3, -37) -> (-44, -37)
  line L9 (-44, -37) -> (-44, -34)
  line L10 (-44, -34) -> (-3, -34)
  line L11 (-3, -34) -> (-3, -37)
  dimension "d121" = 3
extrude "Extrude3'" cut sketch "Sketch11" against normal blind 3 contours L5 L6 L7 L8 L9 L10 L11 bodies 6 in component "Component''''"
sketch "Sketch12" plane through (0, 0, 40) normal (0, 0, 1) x (-1, 0, 0)
  line L0 (-44, -34) -> (-3, -34)
  line L1 (-3, -34) -> (-3, -22)
  line L2 (-3, -22) -> (0, -22)
  line L3 (0, -22) -> (0, 0)
  line L4 (0, 0) -> (-47, 0)
  line L5 (-47, 0) -> (-47, -22)
  line L6 (-47, -22) -> (-44, -22)
  line L7 (-44, -22) -> (-44, -34)
hole "Hole1" at (47, 29.5396, 38.575) direction (-1, 0, 0) diameter 5 depth 49 tip angle 118 bodies 3 in component "Component'"
sketch "Sketch13" plane through (0, 0, 40) normal (0, 0, 1) x (1, 0, 0)
  line L0 (3, 31) -> (0, 31)
  line L1 (0, 31) -> (0, 28)
  line L2 (0, 28) -> (3, 28)
  line L3 (3, 28) -> (3, 31)
extrude "Extrude4'" add sketch "Sketch13" against normal blind 3 bodies 6 in component "Component''''"
sketch "Sketch14" plane through (0, 0, 3) normal (0, 0, 1) x (-1, 0, 0)
  line L0 (-41, 0) -> (-41, -3)
  line L1 (-41, -3) -> (-44, -3)
  line L2 (-44, -3) -> (-44, -6)
  line L3 (-44, -6) -> (-47, -6)
  line L4 (-47, -6) -> (-47, -15)
  line L5 (-47, -15) -> (-44, -15)
  line L6 (-44, -15) -> (-44, -21)
  line L7 (-44, -21) -> (-47, -21)
  line L8 (-47, -21) -> (-47, -31)
  line L9 (-47, -31) -> (-44, -31)
  line L10 (-44, -31) -> (-44, -34)
  line L11 (-44, -34) -> (-41, -34)
  line L12 (-41, -34) -> (-41, -37)
  line L13 (-41, -37) -> (-28, -37)
  line L14 (-28, -37) -> (-28, -34)
  line L15 (-28, -34) -> (-19, -34)
  line L16 (-19, -34) -> (-19, -37)
  line L17 (-19, -37) -> (-6, -37)
  line L18 (-6, -37) -> (-6, -34)
  line L19 (-6, -34) -> (-3, -34)
  line L20 (-3, -34) -> (-3, -31)
  line L21 (-3, -31) -> (0, -31)
  line L22 (0, -31) -> (0, -21)
  line L23 (0, -21) -> (-3, -21)
  line L24 (-3, -21) -> (-3, -15)
  line L25 (-3, -15) -> (0, -15)
  line L26 (0, -15) -> (0, -6)
  line L27 (0, -6) -> (-3, -6)
  line L28 (-3, -6) -> (-3, -3)
  line L29 (-3, -3) -> (-6, -3)
  line L30 (-6, -3) -> (-6, 0)
  line L31 (-6, 0) -> (-19, 0)
  line L32 (-19, 0) -> (-19, -3)
  line L33 (-19, -3) -> (-28, -3)
  line L34 (-28, -3) -> (-28, 0)
  line L35 (-28, 0) -> (-41, 0)
sketch "Sketch15" plane through (0, 0, 0) normal (0, 1, 0) x (1, 0, 0)
  line L0 (47, -40) -> (44, -40)
  line L1 (44, -40) -> (44, -37)
  line L2 (44, -37) -> (47, -37)
  line L3 (47, -37) -> (47, -40)
  dimension "d132" = 3
  dimension "d133" = 3
extrude "Extrude5" add sketch "Sketch15" along normal blind 31 and the other way blind -28 bodies 6 in component "Component''''"
sketch "Sketch16" plane through (0, 0, 40) normal (0, 0, 1) x (1, 0, 0)
  line L0 (44, 34) -> (3, 34)
  line L1 (3, 34) -> (3, 33)
  line L2 (3, 33) -> (44, 33)
  line L3 (44, 33) -> (44, 34)
extrude "Extrude6" cut sketch "Sketch16" against normal blind 3 bodies 6 in component "Component''''"
component "Component" placed x (1, 0, 0) y (0, 1, 0) z (0, 0, 1) at (0, 0, 0)
component "Component'" placed x (1, 0, 0) y (0, 1, 0) z (0, 0, 1) at (0, 0, 0)
component "Component''" placed x (1, 0, 0) y (0, 1, 0) z (0, 0, 1) at (0, 0, 0)
component "Component'''" placed x (1, 0, 0) y (0, 1, 0) z (0, 0, 1) at (0, 0, 0)
component "Component''''" placed x (1, 0, 0) y (0, 1, 0) z (0, 0, 1) at (0, 0, 0)
equation "boxside = 37 mm"
equation "boxsidelong = 47 mm"
equation "boxthickness = 3 mm"
equation "boxholeheight = 5 mm"
equation "boxcorner = 15 mm"
equation "boxhole = 5 mm"
equation "d9 = boxthickness"
equation "d10 = boxthickness"
equation "d47 = boxthickness"
equation "d51 = boxsidelong"
equation "d52 = boxthickness"
equation "d53 = boxside"
equation "d55 = boxthickness"
equation "d62 = boxthickness"
equation "d69 = boxside"
equation "d70 = boxside"
equation "d77 = boxhole"
equation "d78 = boxthickness"
equation "d83 = boxthickness"
equation "d84 = boxthickness"
equation "d101 = boxcorner"
equation "d104 = boxcorner"
equation "d109 = boxsidelong"
equation "d110 = boxside"
equation "d121 = boxthickness"
